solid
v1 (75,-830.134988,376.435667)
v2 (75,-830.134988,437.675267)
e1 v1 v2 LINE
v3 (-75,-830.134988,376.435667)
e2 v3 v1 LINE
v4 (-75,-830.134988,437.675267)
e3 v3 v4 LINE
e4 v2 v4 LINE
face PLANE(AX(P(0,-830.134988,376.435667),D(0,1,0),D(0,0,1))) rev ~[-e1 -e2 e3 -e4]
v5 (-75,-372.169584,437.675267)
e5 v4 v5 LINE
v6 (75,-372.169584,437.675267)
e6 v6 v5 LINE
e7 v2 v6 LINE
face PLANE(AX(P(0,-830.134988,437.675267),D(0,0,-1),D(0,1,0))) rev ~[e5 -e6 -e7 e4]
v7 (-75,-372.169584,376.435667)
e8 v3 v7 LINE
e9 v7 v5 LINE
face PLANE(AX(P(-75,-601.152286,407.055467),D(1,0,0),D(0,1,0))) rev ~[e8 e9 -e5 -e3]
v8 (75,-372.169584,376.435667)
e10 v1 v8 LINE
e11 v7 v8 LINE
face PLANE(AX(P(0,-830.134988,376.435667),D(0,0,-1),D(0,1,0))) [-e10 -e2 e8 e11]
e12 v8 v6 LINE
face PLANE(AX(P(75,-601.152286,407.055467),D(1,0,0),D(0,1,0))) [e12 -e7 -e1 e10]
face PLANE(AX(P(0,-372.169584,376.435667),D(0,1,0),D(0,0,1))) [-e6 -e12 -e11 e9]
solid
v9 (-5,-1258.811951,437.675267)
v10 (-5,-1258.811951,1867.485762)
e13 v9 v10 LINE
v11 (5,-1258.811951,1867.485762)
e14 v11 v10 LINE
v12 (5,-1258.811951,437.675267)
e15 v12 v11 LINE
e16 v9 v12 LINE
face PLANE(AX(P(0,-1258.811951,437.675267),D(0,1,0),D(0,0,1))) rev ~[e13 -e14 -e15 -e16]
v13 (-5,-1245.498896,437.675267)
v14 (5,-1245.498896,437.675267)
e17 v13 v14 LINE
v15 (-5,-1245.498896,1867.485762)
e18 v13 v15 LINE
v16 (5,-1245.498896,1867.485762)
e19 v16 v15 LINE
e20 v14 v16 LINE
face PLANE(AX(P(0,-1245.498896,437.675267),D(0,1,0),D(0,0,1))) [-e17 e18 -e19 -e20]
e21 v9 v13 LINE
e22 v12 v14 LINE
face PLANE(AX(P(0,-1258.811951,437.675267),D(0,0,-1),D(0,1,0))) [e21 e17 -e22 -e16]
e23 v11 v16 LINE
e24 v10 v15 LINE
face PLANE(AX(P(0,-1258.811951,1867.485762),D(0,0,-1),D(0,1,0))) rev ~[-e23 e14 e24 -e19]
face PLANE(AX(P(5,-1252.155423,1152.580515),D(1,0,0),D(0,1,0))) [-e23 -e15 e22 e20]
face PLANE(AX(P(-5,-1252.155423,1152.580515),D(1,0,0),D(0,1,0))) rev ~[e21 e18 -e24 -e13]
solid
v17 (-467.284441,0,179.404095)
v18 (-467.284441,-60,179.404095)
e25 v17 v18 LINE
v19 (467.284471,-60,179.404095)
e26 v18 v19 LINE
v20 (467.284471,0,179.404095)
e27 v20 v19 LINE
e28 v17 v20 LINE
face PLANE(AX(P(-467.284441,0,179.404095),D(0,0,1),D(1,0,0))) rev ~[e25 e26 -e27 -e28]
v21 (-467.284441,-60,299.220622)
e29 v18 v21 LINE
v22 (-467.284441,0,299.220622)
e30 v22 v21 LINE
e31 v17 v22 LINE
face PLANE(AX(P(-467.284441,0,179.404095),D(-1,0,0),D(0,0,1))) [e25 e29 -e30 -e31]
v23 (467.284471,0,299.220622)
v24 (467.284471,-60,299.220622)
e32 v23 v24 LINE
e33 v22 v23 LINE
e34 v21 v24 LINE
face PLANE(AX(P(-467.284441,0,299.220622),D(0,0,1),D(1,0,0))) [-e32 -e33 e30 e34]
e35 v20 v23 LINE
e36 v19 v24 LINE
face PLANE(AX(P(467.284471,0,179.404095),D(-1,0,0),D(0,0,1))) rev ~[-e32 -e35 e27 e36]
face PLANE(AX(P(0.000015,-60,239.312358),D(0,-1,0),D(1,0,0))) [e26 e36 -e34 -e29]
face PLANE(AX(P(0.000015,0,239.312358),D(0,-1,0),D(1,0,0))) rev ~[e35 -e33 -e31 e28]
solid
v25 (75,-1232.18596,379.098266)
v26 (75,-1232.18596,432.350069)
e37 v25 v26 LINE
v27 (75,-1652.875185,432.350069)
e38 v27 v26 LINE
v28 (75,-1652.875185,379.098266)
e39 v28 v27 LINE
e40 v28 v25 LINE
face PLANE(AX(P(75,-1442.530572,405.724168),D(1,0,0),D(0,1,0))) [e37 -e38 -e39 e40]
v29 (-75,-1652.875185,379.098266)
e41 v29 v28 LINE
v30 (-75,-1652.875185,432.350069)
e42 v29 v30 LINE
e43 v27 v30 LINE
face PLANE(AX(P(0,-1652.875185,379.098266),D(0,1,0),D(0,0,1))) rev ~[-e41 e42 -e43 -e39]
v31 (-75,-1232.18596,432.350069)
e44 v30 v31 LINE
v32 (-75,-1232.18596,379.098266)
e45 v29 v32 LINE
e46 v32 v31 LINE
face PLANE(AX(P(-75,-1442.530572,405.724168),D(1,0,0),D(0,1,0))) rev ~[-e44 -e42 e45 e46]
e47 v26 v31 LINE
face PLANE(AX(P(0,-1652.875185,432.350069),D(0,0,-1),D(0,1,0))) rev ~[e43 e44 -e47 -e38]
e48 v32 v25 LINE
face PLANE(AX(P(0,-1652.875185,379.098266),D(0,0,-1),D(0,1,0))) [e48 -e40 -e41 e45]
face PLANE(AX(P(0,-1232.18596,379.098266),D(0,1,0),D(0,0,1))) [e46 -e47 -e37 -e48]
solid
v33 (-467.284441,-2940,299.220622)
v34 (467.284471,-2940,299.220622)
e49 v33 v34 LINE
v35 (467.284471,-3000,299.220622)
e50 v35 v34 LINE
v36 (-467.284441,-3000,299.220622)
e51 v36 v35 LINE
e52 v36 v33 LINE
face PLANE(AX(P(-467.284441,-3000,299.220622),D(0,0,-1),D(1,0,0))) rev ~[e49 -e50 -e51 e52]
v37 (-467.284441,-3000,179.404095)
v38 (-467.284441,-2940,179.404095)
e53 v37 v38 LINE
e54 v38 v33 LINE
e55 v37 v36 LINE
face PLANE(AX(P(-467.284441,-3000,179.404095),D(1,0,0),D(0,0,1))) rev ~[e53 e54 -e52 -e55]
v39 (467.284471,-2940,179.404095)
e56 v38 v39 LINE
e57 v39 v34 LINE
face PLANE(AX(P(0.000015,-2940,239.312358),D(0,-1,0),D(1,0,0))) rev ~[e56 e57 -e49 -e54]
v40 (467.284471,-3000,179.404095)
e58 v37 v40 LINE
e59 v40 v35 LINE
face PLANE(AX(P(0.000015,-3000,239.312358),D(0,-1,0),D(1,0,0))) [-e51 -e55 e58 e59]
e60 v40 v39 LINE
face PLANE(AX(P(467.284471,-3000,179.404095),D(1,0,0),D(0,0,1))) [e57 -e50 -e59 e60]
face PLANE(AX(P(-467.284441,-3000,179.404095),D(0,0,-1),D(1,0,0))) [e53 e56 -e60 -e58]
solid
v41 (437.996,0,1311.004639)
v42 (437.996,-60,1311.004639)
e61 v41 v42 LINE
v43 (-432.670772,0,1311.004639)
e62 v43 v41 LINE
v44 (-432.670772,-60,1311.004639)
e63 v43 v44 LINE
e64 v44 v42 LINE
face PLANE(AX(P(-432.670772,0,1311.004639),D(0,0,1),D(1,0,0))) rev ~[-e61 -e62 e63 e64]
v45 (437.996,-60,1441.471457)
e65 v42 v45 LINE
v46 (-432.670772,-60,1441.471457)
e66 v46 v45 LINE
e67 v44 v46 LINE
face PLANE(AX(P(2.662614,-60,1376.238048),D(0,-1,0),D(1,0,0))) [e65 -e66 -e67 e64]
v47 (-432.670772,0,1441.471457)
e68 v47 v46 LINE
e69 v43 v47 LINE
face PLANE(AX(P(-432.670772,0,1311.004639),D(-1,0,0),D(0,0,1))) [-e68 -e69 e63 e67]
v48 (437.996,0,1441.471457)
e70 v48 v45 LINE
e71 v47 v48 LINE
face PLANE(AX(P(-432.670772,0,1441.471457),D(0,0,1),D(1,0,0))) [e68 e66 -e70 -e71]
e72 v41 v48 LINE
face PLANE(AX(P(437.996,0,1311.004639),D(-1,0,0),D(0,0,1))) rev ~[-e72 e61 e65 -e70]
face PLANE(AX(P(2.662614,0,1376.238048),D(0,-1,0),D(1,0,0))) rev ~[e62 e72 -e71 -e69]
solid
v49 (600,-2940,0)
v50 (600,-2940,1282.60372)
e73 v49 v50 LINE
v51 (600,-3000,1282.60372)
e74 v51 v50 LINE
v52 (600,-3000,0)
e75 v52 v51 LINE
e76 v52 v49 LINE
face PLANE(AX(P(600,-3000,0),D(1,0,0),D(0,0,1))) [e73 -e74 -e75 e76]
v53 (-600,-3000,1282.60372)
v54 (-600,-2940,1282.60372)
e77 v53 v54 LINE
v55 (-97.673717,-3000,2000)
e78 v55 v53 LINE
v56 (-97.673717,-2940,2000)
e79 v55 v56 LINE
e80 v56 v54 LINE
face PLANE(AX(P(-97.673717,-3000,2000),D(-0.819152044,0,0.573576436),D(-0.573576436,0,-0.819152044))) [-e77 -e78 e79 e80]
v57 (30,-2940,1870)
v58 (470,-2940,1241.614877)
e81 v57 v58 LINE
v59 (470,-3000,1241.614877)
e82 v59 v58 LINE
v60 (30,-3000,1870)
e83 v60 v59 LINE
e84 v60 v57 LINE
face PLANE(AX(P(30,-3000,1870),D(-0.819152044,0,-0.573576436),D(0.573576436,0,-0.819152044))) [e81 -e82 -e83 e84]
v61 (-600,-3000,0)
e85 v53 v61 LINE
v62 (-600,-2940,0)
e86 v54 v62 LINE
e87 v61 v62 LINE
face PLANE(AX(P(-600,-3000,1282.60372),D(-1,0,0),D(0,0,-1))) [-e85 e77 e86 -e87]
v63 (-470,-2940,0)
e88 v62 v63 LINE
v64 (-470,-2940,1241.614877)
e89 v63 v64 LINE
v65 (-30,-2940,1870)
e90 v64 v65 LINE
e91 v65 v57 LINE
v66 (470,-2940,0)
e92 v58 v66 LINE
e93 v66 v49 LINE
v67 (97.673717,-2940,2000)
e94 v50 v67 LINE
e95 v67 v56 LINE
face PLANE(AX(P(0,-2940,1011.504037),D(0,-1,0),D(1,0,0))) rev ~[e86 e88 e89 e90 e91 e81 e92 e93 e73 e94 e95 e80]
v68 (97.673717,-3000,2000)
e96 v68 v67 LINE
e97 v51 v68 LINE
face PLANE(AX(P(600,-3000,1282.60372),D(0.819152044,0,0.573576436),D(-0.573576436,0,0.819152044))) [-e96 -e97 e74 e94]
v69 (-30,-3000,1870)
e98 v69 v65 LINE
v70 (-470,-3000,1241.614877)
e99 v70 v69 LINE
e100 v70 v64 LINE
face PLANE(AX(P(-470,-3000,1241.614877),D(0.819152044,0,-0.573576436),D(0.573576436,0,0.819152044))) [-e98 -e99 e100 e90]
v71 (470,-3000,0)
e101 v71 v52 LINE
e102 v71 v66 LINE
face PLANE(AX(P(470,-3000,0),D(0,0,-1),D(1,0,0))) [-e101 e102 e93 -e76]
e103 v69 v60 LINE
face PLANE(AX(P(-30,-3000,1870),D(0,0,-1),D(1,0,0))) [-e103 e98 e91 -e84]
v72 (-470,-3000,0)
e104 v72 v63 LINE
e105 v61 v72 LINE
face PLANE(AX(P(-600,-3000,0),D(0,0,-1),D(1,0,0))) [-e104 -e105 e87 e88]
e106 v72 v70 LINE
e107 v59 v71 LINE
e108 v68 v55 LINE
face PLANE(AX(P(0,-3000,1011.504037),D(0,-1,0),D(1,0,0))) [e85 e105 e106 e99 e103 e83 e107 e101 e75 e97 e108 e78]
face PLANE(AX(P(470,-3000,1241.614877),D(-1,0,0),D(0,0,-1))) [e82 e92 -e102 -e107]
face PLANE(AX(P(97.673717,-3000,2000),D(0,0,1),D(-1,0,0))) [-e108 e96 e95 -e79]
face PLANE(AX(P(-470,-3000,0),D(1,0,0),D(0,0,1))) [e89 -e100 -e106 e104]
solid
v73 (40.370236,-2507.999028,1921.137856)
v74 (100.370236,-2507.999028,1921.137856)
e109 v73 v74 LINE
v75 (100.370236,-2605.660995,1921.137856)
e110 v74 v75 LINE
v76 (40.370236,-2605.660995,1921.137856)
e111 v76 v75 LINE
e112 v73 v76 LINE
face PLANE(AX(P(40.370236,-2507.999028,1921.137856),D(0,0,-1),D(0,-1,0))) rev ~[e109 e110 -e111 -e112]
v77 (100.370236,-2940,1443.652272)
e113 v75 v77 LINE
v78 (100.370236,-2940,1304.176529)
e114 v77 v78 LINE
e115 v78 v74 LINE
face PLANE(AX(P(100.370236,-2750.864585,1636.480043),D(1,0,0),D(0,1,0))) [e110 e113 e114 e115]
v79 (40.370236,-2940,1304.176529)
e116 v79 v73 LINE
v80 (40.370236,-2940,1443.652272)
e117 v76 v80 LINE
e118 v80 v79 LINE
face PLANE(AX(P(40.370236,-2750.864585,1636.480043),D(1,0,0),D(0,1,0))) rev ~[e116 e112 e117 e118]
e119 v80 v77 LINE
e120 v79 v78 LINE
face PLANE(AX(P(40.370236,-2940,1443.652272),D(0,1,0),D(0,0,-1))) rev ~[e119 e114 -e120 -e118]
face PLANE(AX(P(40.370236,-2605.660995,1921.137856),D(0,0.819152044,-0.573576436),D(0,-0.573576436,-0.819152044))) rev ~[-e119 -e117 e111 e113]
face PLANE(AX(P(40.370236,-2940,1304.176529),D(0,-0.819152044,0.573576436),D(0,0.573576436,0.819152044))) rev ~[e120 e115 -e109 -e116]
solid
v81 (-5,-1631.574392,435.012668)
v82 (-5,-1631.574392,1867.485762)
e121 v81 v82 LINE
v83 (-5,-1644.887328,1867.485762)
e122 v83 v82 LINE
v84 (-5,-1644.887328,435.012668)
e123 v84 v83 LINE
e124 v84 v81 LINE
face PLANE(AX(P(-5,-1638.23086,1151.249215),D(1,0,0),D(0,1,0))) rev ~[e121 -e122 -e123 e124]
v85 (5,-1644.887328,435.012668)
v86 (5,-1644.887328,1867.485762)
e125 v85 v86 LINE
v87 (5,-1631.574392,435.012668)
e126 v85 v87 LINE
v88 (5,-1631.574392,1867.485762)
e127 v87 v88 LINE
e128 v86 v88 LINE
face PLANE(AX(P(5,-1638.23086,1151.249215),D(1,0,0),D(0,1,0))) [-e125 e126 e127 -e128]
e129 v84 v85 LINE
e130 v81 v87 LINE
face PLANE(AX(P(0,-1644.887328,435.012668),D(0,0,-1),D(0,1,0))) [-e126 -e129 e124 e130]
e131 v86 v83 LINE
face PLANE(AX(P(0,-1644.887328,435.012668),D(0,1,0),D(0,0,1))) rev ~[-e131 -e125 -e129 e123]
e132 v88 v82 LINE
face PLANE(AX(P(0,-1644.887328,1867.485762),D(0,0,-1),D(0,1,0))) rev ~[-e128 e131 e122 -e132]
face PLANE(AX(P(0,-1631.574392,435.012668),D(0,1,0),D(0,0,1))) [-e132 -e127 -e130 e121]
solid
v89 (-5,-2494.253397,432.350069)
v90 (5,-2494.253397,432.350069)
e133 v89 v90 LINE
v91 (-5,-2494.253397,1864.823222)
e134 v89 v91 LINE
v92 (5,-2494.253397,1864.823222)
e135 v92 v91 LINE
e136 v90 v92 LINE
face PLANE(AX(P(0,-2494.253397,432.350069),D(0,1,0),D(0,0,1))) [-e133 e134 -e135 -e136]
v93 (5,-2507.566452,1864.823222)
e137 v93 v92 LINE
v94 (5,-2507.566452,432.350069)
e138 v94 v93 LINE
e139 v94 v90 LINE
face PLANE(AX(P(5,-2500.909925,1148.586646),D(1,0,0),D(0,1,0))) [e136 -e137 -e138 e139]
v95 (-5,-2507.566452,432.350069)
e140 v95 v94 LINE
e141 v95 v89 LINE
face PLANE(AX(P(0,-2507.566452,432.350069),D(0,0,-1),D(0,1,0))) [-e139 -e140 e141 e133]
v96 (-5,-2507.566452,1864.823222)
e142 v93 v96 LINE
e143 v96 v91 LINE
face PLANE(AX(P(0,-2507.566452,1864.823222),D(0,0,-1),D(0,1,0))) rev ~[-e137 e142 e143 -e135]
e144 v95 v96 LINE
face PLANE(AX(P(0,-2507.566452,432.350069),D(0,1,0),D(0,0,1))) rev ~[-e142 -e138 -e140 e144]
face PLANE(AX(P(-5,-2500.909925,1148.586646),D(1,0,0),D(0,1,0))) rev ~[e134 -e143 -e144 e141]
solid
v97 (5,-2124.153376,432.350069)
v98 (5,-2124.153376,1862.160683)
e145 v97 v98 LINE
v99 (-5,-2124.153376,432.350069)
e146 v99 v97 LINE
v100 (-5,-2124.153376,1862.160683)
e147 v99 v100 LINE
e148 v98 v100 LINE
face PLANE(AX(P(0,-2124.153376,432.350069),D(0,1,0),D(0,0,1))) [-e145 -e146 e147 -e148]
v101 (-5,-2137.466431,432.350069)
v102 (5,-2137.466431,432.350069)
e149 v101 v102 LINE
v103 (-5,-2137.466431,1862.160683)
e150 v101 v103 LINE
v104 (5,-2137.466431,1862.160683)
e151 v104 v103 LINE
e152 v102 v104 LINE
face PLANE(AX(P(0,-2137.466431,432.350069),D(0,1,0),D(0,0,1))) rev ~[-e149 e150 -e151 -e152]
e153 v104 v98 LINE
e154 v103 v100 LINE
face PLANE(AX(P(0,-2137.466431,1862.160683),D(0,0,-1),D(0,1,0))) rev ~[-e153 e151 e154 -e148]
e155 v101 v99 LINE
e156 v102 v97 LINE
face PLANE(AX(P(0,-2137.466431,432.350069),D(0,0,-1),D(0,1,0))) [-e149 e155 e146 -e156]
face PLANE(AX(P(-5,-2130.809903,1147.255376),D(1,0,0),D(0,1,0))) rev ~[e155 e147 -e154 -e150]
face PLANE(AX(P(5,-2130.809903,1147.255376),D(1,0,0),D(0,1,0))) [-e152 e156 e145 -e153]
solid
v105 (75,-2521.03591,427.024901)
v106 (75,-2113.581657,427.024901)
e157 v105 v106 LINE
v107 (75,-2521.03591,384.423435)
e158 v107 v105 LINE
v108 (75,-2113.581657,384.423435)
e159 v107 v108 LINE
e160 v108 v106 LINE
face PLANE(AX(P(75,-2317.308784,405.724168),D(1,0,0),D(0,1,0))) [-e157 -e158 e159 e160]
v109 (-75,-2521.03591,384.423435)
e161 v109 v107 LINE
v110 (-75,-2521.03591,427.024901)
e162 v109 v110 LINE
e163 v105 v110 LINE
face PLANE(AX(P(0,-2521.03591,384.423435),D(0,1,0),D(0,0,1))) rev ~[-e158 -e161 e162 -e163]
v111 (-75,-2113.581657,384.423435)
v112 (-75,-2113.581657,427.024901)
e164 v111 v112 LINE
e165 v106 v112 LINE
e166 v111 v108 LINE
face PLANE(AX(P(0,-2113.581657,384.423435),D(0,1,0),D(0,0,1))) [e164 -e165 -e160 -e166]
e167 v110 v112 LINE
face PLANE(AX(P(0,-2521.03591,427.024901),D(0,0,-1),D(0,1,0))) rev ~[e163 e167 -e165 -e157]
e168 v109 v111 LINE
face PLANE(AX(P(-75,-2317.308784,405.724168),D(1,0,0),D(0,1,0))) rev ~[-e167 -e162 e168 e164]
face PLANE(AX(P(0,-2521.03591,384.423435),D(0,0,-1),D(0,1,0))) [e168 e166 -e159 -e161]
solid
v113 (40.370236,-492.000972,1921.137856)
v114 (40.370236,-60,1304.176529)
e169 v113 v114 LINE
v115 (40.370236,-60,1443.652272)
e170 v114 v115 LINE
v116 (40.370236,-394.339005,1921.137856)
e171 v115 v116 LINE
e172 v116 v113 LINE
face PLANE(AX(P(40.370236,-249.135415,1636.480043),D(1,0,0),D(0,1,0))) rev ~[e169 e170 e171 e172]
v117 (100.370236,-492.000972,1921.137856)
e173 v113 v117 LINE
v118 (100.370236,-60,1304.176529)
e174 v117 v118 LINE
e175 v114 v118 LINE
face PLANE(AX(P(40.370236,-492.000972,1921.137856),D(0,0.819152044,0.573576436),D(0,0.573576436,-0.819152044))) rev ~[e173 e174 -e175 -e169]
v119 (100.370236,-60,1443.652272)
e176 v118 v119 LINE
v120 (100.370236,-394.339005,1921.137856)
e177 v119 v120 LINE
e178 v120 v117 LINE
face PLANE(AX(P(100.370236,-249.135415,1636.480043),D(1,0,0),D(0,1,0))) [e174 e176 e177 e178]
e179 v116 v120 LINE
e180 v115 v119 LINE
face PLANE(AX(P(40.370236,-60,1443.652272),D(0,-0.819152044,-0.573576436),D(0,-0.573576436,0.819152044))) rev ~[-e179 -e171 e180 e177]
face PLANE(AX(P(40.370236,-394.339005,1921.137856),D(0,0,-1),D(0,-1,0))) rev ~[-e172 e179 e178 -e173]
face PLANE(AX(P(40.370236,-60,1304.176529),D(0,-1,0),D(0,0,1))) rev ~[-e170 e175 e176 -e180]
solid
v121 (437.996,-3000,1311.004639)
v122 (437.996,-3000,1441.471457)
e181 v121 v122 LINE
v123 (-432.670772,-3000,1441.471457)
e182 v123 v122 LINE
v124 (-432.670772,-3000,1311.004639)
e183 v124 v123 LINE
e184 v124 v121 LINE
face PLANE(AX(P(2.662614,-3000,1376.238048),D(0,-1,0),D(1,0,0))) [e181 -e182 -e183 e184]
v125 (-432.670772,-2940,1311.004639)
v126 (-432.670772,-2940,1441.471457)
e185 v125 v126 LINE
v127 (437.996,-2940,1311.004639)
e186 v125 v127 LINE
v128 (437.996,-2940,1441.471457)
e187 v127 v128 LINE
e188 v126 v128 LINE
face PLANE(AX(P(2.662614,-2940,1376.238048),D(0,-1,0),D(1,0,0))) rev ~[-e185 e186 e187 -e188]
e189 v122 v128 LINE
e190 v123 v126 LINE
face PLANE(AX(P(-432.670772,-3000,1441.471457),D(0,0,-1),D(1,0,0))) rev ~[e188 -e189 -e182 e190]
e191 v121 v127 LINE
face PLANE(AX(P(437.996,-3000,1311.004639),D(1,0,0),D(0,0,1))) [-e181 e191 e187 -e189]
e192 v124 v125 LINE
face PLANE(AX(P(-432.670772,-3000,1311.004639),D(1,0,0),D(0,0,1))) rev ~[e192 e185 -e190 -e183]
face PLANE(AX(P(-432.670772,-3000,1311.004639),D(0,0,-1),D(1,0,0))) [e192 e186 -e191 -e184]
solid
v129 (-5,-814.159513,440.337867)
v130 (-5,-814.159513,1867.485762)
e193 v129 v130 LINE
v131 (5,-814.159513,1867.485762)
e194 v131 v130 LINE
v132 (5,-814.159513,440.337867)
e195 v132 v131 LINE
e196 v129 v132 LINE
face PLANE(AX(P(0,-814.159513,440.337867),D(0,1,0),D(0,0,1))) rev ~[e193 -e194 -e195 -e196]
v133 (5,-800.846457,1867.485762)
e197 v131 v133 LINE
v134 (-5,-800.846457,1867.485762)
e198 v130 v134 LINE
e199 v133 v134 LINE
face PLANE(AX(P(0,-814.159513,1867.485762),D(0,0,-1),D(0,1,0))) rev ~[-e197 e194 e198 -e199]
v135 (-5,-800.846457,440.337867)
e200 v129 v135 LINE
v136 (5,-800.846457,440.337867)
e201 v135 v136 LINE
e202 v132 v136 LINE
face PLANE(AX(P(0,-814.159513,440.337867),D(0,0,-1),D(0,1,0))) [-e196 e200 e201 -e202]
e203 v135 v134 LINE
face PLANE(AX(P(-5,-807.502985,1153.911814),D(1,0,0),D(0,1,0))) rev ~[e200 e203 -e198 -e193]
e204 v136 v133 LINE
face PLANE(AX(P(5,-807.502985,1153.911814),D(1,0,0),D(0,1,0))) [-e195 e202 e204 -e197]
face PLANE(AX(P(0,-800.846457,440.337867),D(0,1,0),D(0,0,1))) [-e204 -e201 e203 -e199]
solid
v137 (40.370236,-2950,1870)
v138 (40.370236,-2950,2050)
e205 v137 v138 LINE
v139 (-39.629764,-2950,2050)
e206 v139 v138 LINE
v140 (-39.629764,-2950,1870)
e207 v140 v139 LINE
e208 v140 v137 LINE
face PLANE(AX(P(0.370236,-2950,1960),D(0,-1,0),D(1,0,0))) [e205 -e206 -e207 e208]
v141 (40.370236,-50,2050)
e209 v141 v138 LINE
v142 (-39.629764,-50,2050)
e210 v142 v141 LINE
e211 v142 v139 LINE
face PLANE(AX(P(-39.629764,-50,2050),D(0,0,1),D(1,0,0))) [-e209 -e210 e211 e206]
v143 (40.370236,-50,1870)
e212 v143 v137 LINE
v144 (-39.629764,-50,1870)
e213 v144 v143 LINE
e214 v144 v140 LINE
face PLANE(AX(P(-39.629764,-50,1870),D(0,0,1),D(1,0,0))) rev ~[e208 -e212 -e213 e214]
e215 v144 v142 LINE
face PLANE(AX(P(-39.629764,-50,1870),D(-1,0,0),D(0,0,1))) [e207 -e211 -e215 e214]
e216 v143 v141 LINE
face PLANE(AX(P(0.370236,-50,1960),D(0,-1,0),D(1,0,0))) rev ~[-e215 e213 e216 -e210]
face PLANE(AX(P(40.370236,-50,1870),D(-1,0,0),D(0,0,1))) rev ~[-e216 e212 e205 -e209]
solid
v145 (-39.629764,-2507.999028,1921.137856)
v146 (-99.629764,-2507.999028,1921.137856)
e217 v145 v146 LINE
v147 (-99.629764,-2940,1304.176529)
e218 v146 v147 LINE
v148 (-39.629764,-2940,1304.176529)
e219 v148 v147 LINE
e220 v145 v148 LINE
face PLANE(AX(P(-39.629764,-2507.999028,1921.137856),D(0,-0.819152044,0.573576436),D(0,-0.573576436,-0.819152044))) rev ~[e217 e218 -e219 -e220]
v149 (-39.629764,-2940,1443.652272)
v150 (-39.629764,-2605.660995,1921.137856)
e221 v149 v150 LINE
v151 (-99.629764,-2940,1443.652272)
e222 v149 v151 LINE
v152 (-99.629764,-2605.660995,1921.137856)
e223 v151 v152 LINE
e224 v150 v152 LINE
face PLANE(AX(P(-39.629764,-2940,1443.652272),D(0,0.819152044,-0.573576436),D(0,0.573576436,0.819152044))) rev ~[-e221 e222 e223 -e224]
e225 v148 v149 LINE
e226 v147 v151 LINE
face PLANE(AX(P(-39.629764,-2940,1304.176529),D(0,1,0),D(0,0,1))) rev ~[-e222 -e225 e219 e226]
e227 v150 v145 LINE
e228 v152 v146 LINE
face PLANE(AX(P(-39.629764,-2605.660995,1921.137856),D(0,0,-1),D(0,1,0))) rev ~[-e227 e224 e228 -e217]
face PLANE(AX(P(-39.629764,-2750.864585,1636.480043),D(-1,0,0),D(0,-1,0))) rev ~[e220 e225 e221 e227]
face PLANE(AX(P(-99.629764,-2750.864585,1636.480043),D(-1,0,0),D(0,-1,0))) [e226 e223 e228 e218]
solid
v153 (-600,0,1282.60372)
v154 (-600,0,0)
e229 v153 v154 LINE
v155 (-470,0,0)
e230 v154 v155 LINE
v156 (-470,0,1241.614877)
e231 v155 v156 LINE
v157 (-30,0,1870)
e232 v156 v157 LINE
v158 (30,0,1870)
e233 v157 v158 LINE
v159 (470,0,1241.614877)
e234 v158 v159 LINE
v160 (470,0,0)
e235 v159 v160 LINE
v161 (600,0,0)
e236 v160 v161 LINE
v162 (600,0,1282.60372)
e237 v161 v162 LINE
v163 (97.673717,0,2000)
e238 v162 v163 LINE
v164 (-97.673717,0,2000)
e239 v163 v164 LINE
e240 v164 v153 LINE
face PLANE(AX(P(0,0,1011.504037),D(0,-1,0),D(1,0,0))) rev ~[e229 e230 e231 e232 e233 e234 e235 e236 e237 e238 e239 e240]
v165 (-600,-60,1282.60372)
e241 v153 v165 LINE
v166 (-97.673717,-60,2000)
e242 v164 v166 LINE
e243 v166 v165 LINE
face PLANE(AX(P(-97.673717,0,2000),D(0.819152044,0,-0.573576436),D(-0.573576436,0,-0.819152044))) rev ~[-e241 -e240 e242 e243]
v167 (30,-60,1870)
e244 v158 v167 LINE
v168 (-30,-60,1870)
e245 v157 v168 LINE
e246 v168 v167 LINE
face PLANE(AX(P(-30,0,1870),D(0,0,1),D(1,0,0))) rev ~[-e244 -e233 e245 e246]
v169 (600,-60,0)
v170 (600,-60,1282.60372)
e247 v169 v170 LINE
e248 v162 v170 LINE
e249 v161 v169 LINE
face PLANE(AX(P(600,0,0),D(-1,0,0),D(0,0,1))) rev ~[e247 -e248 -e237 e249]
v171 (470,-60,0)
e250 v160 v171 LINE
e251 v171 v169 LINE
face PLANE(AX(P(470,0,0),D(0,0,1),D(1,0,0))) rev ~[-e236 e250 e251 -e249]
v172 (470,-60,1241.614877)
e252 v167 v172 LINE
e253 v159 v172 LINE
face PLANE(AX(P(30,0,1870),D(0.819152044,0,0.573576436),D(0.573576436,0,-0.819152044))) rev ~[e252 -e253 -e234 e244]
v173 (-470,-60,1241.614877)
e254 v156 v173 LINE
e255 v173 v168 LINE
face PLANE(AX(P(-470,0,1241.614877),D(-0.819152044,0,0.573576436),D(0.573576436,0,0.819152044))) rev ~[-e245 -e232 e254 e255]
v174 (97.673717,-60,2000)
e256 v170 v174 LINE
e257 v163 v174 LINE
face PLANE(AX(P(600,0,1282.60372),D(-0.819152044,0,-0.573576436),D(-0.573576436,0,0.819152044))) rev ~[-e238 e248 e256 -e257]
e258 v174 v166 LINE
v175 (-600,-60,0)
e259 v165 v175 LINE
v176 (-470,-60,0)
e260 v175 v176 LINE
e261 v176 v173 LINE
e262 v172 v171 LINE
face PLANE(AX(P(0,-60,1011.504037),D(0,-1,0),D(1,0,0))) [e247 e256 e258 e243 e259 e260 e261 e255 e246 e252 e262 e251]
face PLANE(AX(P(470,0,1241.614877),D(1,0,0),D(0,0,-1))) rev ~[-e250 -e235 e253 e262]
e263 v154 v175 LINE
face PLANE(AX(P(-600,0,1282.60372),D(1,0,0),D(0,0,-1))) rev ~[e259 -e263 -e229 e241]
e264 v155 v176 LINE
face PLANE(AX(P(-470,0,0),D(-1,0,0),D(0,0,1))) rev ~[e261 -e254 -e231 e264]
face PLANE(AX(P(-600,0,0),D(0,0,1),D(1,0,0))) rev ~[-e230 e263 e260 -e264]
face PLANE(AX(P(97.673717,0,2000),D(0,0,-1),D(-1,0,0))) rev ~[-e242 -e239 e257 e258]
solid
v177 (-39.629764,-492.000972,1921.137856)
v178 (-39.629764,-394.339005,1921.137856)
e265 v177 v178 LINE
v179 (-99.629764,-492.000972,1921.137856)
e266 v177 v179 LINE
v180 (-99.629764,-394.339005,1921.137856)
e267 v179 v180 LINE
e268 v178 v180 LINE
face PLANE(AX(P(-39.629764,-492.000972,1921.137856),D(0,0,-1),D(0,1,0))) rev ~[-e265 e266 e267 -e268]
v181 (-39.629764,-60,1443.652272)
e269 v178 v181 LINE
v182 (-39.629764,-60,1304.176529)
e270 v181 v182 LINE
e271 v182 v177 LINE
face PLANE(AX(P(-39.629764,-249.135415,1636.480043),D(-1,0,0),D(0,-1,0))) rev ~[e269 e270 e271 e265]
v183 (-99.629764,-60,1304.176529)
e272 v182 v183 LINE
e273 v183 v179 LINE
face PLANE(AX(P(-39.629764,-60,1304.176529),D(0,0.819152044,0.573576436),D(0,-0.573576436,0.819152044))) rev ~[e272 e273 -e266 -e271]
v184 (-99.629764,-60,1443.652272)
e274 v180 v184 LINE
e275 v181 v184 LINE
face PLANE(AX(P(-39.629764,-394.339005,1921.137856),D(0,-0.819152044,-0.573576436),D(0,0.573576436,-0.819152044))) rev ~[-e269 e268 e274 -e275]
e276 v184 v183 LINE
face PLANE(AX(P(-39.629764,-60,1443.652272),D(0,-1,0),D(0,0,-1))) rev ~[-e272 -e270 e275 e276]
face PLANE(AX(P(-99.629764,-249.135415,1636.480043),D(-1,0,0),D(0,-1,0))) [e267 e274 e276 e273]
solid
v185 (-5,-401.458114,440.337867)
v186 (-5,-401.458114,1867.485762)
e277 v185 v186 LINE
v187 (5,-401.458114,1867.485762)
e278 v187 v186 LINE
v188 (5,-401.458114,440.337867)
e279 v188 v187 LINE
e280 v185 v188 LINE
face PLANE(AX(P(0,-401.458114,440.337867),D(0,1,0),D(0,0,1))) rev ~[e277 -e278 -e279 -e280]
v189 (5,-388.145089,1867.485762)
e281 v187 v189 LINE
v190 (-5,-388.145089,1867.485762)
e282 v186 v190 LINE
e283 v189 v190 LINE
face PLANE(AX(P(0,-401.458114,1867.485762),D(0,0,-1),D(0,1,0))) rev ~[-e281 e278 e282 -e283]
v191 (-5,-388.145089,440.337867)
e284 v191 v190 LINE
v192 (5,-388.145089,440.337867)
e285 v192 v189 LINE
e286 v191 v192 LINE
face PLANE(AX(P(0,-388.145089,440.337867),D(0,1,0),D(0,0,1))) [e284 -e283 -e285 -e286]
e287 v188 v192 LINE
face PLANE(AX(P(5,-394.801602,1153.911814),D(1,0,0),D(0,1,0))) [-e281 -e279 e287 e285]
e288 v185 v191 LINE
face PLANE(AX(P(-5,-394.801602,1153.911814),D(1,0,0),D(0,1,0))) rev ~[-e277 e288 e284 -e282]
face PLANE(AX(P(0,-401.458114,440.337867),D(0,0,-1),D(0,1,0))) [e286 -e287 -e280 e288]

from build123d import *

# Parameters (mm, degrees)
F1_DEPTH  = 60
F4_DEPTH  = 60
F6_START  = 50
F5_W      = 80
F5_H      = 180
F6_DEPTH  = 2900
F7_W      = 870.6667721272
F7_H      = 130.4668188095
F8_DEPTH  = 60
F7_W_2    = 934.5689117908
F7_H_2    = 119.8165267706
F9_W      = 870.6667721272
F9_H      = 130.4668188095
F10_DEPTH = 60
F9_W_2    = 934.5689117908
F9_H_2    = 119.8165267706
F12_DEPTH = 60
F14_DEPTH = 60
F15_W     = 407.454252243
F15_H     = 42.6014661789
F16_DEPTH = 75
F15_W_2   = 420.6892251968
F15_H_2   = 53.2518029213
F15_W_3   = 457.9654037952
F15_H_3   = 61.2396001816
F17_W     = 13.3130550385
F17_H     = 1432.4731528759
F18_DEPTH = 5
F17_H_2   = 1429.8106133938
F17_W_2   = 13.3129358292
F17_H_3   = 1432.4730932713
F17_H_4   = 1429.8104941845
F17_H_5   = 1427.1478950977
F17_W_3   = 13.3130252361


with BuildPart() as f1:
    # F0 (on Front) → F1 (new body)
    with BuildSketch(Plane.XZ):
        Polygon((0, 2000), (-97.6737165717, 2000), (-600, 1282.6037195877), (-600, 0), (-470, 0), (-470, 1241.6148770335), (-30, 1870), (0, 1870), (30, 1870), (470, 1241.6148770335), (470, 0), (600, 0), (600, 1282.6037195877), (97.6737165717, 2000), align=None)
    extrude(amount=F1_DEPTH)


with BuildPart() as f4:
    # F3 (on offset) → F4 (new body)
    with BuildSketch(Plane.XZ.offset(3000)):
        Polygon((-470, 1241.6148770335), (-30, 1870), (30, 1870), (470, 1241.6148770335), (470, 0), (600, 0), (600, 1282.6037195877), (97.6737165717, 2000), (-97.6737165717, 2000), (-600, 1282.6037195877), (-600, 0), (-470, 0), align=None)
    extrude(amount=-F4_DEPTH)


with BuildPart() as f6:
    # F5 (on Front) → F6 (new body)
    with BuildSketch(Plane.XZ.offset(F6_START)):
        with Locations((0.3702357411, 1960)):
            Rectangle(F5_W, F5_H)
    extrude(amount=F6_DEPTH)


with BuildPart() as f8:
    # F7 (on offset) → F8 (new body)
    with BuildSketch(Plane.XZ.offset(3000)):
        with Locations((2.6626139879, 1376.2380480766)):
            Rectangle(F7_W, F7_H)
    extrude(amount=-F8_DEPTH)


with BuildPart() as f8b:
    # F7 (on offset) → F8, piece 2 (new body)
    with BuildSketch(Plane.XZ.offset(3000)):
        with Locations((1.49012e-05, 239.3123582006)):
            Rectangle(F7_W_2, F7_H_2)
    extrude(amount=-F8_DEPTH)


with BuildPart() as f10:
    # F9 (on Front) → F10 (new body)
    with BuildSketch(Plane.XZ):
        with Locations((2.6626139879, 1376.2380480766)):
            Rectangle(F9_W, F9_H)
    extrude(amount=F10_DEPTH)


with BuildPart() as f10b:
    # F9 (on Front) → F10, piece 2 (new body)
    with BuildSketch(Plane.XZ):
        with Locations((1.49012e-05, 239.3123582006)):
            Rectangle(F9_W_2, F9_H_2)
    extrude(amount=F10_DEPTH)


with BuildPart() as f12:
    # F11 (on face) → F12 (new body)
    with BuildSketch(Plane.YZ.offset(40.3702357411)):
        Polygon((-2605.6609946425, 1921.1378563019), (-2940, 1443.6522722244), (-2940, 1304.1765285747), (-2507.9990275416, 1921.1378563019), align=None)
    extrude(amount=F12_DEPTH)


with BuildPart() as f12b:
    # F11 (on face) → F12, piece 2 (new body)
    with BuildSketch(Plane.YZ.offset(40.3702357411)):
        Polygon((-394.3390053575, 1921.1378563019), (-492.0009724584, 1921.1378563019), (-60, 1304.1765285747), (-60, 1443.6522722244), align=None)
    extrude(amount=F12_DEPTH)


with BuildPart() as f14:
    # F13 (on face) → F14 (new body)
    with BuildSketch(Plane(origin=(-39.6297642589, 0, 0), x_dir=(0, -1, 0), z_dir=(-1, 0, 0))):
        Polygon((2507.9990275416, 1921.1378563019), (2940, 1304.1765285747), (2940, 1443.6522722244), (2605.6609946425, 1921.1378563019), align=None)
    extrude(amount=F14_DEPTH)


with BuildPart() as f14b:
    # F13 (on face) → F14, piece 2 (new body)
    with BuildSketch(Plane(origin=(-39.6297642589, 0, 0), x_dir=(0, -1, 0), z_dir=(-1, 0, 0))):
        Polygon((60, 1443.6522722244), (60, 1304.1765285747), (492.0009724584, 1921.1378563019), (394.3390053575, 1921.1378563019), align=None)
    extrude(amount=F14_DEPTH)


with BuildPart() as f16:
    # F15 (on Right) → F16 (new body, symmetric)
    with BuildSketch(Plane.YZ):
        with Locations((-2317.3087835312, 405.7241678238)):
            Rectangle(F15_W, F15_H)
    extrude(amount=F16_DEPTH, both=True)


with BuildPart() as f16b:
    # F15 (on Right) → F16, piece 2 (new body, symmetric)
    with BuildSketch(Plane.YZ):
        with Locations((-1442.5305724144, 405.7241678238)):
            Rectangle(F15_W_2, F15_H_2)
    extrude(amount=F16_DEPTH, both=True)


with BuildPart() as f16c:
    # F15 (on Right) → F16, piece 3 (new body, symmetric)
    with BuildSketch(Plane.YZ):
        with Locations((-601.1522859335, 407.0554673672)):
            Rectangle(F15_W_3, F15_H_3)
    extrude(amount=F16_DEPTH, both=True)


with BuildPart() as f18:
    # F17 (on Right) → F18 (new body, symmetric)
    with BuildSketch(Plane.YZ):
        with Locations((-2500.9099245071, 1148.5866457224)):
            Rectangle(F17_W, F17_H)
    extrude(amount=F18_DEPTH, both=True)


with BuildPart() as f18b:
    # F17 (on Right) → F18, piece 2 (new body, symmetric)
    with BuildSketch(Plane.YZ):
        with Locations((-2130.8099031448, 1147.2553759813)):
            Rectangle(F17_W, F17_H_2)
    extrude(amount=F18_DEPTH, both=True)


with BuildPart() as f18c:
    # F17 (on Right) → F18, piece 3 (new body, symmetric)
    with BuildSketch(Plane.YZ):
        with Locations((-1638.2308602333, 1151.2492150068)):
            Rectangle(F17_W_2, F17_H_3)
    extrude(amount=F18_DEPTH, both=True)


with BuildPart() as f18d:
    # F17 (on Right) → F18, piece 4 (new body, symmetric)
    with BuildSketch(Plane.YZ):
        with Locations((-1252.1554231644, 1152.5805145502)):
            Rectangle(F17_W, F17_H_4)
    extrude(amount=F18_DEPTH, both=True)


with BuildPart() as f18e:
    # F17 (on Right) → F18, piece 5 (new body, symmetric)
    with BuildSketch(Plane.YZ):
        with Locations((-807.5029850006, 1153.9118140936)):
            Rectangle(F17_W, F17_H_5)
    extrude(amount=F18_DEPTH, both=True)


with BuildPart() as f18f:
    # F17 (on Right) → F18, piece 6 (new body, symmetric)
    with BuildSketch(Plane.YZ):
        with Locations((-394.8016017675, 1153.9118140936)):
            Rectangle(F17_W_3, F17_H_5)
    extrude(amount=F18_DEPTH, both=True)


solid = Compound([f1.part, f4.part, f6.part, f8.part, f8b.part, f10.part, f10b.part, f12.part, f12b.part, f14.part, f14b.part, f16.part, f16b.part, f16c.part, f18.part, f18b.part, f18c.part, f18d.part, f18e.part, f18f.part])
